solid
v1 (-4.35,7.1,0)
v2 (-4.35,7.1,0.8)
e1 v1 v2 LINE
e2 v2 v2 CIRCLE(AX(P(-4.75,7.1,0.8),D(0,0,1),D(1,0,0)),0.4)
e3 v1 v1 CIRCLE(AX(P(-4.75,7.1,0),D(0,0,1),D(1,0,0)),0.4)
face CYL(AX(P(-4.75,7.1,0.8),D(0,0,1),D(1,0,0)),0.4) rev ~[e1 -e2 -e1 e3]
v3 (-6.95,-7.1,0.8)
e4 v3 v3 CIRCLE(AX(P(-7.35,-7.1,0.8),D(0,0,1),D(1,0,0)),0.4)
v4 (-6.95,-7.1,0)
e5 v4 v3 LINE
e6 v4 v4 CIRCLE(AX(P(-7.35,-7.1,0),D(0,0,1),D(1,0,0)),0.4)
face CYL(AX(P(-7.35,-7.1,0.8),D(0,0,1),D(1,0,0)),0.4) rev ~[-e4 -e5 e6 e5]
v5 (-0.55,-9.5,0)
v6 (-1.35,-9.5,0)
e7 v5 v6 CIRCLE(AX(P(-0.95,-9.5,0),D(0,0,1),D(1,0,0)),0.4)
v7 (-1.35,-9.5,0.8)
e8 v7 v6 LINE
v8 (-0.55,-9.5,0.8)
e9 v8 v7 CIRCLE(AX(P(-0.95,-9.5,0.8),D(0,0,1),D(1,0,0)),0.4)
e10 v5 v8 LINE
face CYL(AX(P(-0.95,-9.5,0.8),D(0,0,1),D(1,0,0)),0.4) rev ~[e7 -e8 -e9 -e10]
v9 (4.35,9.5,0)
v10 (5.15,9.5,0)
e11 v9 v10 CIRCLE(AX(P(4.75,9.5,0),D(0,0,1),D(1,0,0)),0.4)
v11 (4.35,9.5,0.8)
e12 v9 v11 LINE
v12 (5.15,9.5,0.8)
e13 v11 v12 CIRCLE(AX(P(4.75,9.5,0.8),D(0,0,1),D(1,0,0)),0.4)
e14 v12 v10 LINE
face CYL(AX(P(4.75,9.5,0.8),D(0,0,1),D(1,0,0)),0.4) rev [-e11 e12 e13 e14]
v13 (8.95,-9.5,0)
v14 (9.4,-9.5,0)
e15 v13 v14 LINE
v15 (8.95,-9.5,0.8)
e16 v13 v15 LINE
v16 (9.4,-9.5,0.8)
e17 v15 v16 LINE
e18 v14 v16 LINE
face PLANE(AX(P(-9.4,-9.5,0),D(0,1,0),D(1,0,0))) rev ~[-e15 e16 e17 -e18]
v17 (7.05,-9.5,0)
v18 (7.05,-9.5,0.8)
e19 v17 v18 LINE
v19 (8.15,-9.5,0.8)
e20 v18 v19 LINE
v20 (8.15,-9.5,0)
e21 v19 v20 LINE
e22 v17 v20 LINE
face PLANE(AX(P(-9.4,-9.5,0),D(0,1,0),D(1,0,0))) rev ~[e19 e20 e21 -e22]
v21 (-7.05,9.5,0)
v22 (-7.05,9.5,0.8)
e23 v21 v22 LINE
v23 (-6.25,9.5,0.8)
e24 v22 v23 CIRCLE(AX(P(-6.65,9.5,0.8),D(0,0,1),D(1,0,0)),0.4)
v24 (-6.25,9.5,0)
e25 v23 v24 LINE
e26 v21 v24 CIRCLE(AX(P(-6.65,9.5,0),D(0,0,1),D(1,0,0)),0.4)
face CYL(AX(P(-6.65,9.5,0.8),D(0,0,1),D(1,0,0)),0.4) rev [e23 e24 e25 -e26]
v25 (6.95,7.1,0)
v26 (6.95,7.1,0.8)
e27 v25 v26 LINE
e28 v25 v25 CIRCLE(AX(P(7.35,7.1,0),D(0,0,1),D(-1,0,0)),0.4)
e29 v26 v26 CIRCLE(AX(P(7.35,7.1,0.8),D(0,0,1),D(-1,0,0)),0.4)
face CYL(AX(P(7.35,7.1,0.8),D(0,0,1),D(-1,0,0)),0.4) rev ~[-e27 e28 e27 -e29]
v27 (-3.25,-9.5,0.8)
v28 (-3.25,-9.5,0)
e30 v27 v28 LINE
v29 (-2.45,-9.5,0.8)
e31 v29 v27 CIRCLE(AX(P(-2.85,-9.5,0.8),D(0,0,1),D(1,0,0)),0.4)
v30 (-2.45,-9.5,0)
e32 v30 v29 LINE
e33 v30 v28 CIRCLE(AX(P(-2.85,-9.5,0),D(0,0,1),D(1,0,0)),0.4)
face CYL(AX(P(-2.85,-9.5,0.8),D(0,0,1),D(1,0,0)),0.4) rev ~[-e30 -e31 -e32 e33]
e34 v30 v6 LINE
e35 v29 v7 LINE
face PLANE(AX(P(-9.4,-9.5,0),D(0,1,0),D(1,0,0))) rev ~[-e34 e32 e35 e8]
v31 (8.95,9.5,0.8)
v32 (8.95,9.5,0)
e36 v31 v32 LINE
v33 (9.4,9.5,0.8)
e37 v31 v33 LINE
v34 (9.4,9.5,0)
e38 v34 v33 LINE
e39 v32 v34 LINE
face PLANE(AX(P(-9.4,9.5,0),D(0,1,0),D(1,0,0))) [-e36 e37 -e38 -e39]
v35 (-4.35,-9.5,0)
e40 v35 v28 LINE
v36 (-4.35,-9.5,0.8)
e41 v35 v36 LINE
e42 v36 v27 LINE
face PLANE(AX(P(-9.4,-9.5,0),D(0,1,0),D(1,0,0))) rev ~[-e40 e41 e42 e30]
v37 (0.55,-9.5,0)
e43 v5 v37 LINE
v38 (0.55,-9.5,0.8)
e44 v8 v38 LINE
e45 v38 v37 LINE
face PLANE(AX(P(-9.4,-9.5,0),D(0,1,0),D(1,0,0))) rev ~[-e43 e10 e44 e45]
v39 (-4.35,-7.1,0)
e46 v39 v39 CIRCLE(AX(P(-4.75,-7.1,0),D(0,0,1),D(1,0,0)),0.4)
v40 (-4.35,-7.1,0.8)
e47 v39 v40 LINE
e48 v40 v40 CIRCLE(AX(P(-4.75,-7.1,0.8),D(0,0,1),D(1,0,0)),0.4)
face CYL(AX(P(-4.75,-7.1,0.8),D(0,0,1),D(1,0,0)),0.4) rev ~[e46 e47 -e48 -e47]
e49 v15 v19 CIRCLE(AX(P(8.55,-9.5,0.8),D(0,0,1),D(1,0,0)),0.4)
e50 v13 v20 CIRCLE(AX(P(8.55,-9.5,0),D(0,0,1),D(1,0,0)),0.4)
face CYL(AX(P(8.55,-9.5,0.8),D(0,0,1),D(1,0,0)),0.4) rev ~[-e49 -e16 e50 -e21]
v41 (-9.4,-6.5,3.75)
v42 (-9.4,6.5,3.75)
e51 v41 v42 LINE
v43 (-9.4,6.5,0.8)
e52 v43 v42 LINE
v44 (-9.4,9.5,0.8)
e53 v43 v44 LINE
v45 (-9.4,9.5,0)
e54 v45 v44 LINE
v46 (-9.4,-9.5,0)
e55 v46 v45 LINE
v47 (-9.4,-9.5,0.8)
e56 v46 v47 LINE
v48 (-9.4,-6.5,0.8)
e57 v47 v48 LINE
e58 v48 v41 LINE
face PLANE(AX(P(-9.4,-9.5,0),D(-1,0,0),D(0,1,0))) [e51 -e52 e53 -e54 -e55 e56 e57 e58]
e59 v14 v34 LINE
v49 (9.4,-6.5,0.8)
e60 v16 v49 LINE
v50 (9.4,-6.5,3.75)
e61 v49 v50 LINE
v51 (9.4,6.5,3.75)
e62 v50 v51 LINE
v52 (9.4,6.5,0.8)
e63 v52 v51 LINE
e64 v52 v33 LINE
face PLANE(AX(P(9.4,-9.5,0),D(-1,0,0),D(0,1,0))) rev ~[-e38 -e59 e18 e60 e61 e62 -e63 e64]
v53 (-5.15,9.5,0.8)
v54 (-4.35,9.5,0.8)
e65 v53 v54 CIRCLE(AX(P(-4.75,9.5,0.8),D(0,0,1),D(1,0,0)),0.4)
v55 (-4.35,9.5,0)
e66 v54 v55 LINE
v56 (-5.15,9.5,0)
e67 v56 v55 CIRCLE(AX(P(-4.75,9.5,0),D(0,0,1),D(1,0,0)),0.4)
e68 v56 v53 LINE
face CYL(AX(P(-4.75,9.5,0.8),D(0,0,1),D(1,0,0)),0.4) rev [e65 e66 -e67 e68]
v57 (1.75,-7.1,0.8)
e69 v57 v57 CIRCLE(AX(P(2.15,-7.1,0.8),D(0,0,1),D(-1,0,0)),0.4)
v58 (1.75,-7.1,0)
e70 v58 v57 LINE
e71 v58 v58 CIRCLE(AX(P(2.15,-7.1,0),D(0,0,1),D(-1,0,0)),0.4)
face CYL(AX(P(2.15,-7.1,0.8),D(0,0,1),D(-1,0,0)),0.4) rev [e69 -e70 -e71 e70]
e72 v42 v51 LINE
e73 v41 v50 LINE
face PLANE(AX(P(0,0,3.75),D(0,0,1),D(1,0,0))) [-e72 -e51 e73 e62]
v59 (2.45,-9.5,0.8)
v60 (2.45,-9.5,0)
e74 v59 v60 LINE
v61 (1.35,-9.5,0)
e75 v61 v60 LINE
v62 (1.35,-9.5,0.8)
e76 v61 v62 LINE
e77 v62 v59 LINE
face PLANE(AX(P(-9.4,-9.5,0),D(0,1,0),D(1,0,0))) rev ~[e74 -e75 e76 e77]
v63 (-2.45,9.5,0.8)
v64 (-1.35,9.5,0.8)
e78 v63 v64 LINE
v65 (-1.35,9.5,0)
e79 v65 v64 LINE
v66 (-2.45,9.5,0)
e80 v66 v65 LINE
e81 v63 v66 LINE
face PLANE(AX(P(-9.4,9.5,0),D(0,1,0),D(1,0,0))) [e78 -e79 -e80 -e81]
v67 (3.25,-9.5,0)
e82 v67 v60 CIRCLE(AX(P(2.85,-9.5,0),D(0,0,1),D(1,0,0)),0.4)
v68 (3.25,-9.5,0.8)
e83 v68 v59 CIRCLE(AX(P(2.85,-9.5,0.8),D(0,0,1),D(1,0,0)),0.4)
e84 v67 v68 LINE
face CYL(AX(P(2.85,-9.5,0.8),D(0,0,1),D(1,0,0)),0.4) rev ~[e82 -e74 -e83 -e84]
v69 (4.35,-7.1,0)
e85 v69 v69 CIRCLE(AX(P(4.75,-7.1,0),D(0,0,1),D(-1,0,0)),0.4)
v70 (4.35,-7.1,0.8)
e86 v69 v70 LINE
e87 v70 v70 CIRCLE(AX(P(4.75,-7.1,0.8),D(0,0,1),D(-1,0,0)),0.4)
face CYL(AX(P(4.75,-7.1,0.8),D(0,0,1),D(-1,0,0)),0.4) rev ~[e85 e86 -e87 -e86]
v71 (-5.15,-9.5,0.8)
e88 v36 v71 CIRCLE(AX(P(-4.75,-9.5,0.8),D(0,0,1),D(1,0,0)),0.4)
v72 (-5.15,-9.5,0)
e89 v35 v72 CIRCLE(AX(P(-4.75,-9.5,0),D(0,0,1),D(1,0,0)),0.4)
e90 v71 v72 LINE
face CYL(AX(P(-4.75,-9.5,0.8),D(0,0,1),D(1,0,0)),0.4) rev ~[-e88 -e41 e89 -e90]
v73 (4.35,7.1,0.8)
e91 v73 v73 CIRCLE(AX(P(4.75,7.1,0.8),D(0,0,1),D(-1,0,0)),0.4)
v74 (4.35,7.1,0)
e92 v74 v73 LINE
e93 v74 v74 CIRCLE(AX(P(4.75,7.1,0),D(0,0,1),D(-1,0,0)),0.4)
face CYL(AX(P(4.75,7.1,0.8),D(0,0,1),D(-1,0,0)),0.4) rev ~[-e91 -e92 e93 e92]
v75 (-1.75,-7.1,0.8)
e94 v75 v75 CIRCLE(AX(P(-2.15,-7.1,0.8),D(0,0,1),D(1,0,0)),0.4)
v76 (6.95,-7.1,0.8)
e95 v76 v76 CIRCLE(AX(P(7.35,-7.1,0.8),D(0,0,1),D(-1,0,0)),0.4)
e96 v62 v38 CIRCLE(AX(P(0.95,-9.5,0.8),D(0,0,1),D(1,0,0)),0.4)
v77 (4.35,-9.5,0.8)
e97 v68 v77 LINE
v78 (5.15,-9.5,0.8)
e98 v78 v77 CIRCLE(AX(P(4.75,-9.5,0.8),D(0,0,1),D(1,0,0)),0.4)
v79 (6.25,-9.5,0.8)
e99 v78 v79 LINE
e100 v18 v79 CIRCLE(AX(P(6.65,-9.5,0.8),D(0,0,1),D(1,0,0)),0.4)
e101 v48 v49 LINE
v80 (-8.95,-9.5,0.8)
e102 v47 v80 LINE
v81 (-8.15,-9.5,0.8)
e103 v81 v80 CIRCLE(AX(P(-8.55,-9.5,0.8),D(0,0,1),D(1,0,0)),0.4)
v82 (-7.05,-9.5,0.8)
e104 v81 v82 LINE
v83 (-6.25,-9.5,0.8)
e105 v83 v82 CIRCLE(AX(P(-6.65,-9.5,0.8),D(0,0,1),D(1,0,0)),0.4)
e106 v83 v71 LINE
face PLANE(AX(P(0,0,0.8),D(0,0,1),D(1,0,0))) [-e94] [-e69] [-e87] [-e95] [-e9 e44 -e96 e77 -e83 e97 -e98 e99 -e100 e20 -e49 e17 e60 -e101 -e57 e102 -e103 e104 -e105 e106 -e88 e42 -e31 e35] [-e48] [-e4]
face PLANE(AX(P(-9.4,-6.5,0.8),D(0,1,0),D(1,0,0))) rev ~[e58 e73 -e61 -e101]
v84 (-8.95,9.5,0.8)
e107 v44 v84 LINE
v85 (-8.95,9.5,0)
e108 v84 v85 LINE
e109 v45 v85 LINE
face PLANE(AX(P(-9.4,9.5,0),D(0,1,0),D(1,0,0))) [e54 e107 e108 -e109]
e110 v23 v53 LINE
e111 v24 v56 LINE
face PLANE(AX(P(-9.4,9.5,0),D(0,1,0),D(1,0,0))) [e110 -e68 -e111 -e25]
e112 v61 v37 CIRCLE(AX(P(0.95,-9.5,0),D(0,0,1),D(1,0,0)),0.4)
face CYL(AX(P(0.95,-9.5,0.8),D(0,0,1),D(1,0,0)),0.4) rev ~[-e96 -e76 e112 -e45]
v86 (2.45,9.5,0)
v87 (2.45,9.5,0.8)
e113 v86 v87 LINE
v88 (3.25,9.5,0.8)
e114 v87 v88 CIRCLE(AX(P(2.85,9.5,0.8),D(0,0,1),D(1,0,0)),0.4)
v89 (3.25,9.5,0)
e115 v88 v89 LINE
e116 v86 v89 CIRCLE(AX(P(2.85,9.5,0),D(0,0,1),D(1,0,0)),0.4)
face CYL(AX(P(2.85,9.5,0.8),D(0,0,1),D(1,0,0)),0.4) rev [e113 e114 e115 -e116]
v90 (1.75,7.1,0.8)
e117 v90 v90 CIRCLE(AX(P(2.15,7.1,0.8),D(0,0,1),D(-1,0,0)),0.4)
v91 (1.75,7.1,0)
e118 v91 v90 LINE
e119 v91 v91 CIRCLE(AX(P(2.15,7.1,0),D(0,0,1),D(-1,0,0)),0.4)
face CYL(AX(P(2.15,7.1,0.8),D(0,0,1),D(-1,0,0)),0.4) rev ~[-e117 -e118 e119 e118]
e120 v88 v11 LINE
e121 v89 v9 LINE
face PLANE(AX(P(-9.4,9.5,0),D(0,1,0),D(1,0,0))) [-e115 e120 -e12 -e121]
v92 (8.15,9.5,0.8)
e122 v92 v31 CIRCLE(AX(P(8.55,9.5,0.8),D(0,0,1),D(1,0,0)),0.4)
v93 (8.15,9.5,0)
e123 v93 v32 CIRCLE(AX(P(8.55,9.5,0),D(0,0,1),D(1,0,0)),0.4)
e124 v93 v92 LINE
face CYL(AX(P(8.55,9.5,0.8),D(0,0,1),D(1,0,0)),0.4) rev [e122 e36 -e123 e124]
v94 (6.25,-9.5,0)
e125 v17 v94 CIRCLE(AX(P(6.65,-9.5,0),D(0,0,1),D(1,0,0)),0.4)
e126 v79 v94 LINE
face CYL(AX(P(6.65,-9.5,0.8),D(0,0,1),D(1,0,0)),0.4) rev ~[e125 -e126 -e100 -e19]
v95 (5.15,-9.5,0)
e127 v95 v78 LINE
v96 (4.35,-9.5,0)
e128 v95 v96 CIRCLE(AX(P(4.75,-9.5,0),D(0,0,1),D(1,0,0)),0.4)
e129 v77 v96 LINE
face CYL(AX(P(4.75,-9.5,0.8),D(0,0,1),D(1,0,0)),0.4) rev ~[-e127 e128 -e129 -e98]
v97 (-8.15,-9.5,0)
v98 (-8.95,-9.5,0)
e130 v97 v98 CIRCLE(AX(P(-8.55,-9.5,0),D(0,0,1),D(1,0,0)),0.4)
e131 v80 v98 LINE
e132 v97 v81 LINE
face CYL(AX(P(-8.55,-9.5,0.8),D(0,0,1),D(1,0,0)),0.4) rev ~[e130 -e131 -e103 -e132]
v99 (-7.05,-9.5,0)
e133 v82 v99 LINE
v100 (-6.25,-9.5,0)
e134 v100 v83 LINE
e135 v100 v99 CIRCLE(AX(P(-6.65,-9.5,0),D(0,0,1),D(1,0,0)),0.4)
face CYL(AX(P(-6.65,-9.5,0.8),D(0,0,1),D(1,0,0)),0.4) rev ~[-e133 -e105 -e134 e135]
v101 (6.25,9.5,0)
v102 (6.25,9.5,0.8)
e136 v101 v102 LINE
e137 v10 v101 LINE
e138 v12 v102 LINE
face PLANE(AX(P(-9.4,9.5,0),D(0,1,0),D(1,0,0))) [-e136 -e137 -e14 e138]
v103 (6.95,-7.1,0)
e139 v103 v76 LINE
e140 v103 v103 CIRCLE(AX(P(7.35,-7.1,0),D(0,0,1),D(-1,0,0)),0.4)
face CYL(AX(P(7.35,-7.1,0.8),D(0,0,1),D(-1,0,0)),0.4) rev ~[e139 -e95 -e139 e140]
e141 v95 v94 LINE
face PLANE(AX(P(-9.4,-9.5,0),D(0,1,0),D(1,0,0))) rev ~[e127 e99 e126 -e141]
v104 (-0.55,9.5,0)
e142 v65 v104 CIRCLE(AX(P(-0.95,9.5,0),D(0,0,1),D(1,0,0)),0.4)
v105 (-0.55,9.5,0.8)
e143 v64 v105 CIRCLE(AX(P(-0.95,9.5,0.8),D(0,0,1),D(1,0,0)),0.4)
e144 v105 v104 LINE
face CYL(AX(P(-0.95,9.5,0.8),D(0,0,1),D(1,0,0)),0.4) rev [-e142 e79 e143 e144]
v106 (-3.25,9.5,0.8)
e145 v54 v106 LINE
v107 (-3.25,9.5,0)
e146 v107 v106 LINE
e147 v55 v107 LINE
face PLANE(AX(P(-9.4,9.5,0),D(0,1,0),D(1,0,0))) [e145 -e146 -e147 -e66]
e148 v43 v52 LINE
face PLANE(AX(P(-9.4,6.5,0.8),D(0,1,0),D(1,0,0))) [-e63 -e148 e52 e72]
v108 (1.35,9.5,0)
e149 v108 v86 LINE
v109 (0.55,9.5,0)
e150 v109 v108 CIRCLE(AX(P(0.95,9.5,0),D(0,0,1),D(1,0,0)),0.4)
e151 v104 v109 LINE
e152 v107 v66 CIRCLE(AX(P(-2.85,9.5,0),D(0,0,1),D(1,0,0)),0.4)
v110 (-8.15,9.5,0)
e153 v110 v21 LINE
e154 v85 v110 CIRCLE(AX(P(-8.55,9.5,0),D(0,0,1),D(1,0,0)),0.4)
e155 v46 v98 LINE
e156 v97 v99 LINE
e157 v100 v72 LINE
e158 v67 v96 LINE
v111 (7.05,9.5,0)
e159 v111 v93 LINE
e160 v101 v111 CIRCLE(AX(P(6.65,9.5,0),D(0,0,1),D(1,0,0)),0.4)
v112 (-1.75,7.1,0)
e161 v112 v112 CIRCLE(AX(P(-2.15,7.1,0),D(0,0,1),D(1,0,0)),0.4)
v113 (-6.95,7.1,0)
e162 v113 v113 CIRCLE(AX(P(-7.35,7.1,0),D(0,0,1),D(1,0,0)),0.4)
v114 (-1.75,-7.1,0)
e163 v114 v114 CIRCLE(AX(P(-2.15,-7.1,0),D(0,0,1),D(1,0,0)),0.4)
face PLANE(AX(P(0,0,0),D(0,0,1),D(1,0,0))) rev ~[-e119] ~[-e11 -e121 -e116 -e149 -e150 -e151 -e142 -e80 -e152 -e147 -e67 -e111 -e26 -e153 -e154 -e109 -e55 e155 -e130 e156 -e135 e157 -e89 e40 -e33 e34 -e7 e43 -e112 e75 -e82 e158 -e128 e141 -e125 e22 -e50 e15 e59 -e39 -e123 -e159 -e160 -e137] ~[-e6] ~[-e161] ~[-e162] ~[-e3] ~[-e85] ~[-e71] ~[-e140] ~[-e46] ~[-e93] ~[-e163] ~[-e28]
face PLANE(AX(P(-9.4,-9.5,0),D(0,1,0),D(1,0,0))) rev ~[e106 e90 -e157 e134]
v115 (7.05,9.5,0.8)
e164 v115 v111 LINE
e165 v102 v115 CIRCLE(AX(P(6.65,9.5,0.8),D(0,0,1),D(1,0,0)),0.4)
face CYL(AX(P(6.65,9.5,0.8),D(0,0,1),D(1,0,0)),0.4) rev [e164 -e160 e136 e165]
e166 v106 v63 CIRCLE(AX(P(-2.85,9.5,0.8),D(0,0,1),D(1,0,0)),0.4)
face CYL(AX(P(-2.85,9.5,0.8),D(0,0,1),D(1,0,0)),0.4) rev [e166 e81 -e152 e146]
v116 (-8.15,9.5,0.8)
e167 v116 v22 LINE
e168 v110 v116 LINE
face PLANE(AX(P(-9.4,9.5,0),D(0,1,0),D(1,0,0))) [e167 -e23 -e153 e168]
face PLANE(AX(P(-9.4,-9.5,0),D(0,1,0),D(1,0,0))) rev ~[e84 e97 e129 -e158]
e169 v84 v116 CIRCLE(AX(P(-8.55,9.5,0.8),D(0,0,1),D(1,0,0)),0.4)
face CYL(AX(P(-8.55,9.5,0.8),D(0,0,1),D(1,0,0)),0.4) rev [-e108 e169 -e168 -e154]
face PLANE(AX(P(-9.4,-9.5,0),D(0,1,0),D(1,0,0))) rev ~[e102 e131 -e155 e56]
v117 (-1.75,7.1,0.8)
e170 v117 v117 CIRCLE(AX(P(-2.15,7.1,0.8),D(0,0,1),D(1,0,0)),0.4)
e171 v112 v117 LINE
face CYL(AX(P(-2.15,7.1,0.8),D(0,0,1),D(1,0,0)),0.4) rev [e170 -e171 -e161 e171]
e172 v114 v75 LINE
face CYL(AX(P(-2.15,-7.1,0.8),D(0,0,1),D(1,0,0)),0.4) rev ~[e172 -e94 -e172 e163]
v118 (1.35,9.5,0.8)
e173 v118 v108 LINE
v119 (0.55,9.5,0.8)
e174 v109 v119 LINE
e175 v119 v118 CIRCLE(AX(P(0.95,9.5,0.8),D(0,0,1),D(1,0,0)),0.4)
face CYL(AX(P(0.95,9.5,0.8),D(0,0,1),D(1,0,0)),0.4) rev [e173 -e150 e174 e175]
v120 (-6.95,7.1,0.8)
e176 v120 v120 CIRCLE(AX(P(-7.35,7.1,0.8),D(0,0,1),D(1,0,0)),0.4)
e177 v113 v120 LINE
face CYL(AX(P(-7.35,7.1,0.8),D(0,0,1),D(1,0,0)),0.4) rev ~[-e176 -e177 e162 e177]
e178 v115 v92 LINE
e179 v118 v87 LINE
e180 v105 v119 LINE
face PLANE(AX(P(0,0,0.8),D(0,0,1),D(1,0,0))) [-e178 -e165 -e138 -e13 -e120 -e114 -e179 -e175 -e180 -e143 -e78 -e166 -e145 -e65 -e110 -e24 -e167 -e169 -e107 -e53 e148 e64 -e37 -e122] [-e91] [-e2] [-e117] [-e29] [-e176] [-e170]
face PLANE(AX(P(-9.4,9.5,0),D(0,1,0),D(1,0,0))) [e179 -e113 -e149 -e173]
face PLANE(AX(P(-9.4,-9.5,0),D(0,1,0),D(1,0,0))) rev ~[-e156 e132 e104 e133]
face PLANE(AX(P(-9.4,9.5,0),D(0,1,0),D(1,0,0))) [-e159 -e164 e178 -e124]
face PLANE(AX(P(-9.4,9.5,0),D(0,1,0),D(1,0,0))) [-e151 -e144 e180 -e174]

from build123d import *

# Parameters (mm, degrees)
SKETCH_1_W                    = 18.8
SKETCH_1_H                    = 19
EXTRUDE_1_DEPTH               = 0.8
SKETCH_2_W                    = 18.8
SKETCH_2_H                    = 13
EXTRUDE_2_DEPTH               = 2.95
CUT_EXTRUDE_1_DEPTH           = 14.686215693
PATTERN_LINEAR_1_COUNT        = 10
PATTERN_LINEAR_1_PITCH        = 1.9
PATTERN_LINEAR_1_COPY_1_DEPTH = 14.686215693
PATTERN_LINEAR_1_COPY_2_DEPTH = 14.686215693
PATTERN_LINEAR_1_COPY_3_DEPTH = 14.686215693
PATTERN_LINEAR_1_COPY_4_DEPTH = 14.686215693
PATTERN_LINEAR_1_COPY_5_DEPTH = 14.686215693
PATTERN_LINEAR_1_COPY_6_DEPTH = 14.686215693
PATTERN_LINEAR_1_COPY_7_DEPTH = 14.686215693
PATTERN_LINEAR_1_COPY_8_DEPTH = 14.686215693
PATTERN_LINEAR_1_COPY_9_DEPTH = 14.686215693
SKETCH_4_R                    = 0.4
CUT_EXTRUDE_2_DEPTH           = 14.686215693
PATTERN_LINEAR_2_COUNT        = 3
PATTERN_LINEAR_2_PITCH        = 2.6
MIRROR_2_COPY_1_SKETCH_R      = 0.4
MIRROR_2_COPY_1_DEPTH         = 14.686215693
MIRROR_2_COPY_2_SKETCH_R      = 0.4
MIRROR_2_COPY_2_DEPTH         = 14.686215693
MIRROR_3_COPY_1_SKETCH_R      = 0.4
MIRROR_3_COPY_1_DEPTH         = 14.686215693
MIRROR_3_COPY_2_SKETCH_R      = 0.4
MIRROR_3_COPY_2_DEPTH         = 14.686215693
MIRROR_3_COPY_3_SKETCH_R      = 0.4
MIRROR_3_COPY_3_DEPTH         = 14.686215693
MIRROR_3_COPY_4_SKETCH_R      = 0.4
MIRROR_3_COPY_4_DEPTH         = 14.686215693
MIRROR_3_COPY_5_SKETCH_R      = 0.4
MIRROR_3_COPY_5_DEPTH         = 14.686215693


with BuildPart() as part:
    # Эскиз1 → Бобышка-Вытянуть1 (new body)
    with BuildSketch(Plane.XY):
        Rectangle(SKETCH_1_W, SKETCH_1_H)
    extrude(amount=EXTRUDE_1_DEPTH)

    # Эскиз2 → Бобышка-Вытянуть2 (add)
    with BuildSketch(Plane.XY.offset(0.8)):
        Rectangle(SKETCH_2_W, SKETCH_2_H)
    extrude(amount=EXTRUDE_2_DEPTH)

    # Эскиз3 → Вырез-Вытянуть1 (cut, symmetric)
    with BuildSketch(Plane.XY.offset(0.8)):
        with BuildLine():
            Line((-8.95, -9.5), (-8.15, -9.5))
            ThreePointArc((-8.15, -9.5), (-8.55, -9.1), (-8.95, -9.5))
        make_face()
    cut_extrude_1 = extrude(amount=CUT_EXTRUDE_1_DEPTH, both=True, mode=Mode.SUBTRACT)

    # Зеркальное отражение1: Вырез-Вытянуть1 across plane
    add(cut_extrude_1.mirror(Plane.ZX), mode=Mode.SUBTRACT)

    # Линейный массив1: Вырез-Вытянуть1 ×10
    with Locations(*[(i * PATTERN_LINEAR_1_PITCH, 0, 0) for i in range(1, PATTERN_LINEAR_1_COUNT)]):
        add(cut_extrude_1, mode=Mode.SUBTRACT)

    # Линейный массив1 copy 1 sketch → Линейный массив1 copy 1 (cut, symmetric)
    with BuildSketch(Plane(origin=(1.9, 0, 0.8), x_dir=(1, 0, 0), z_dir=(0, 0, 1))):
        with BuildLine():
            Line((-8.95, 9.5), (-8.15, 9.5))
            ThreePointArc((-8.15, 9.5), (-8.55, 9.1), (-8.95, 9.5))
        make_face()
    extrude(amount=PATTERN_LINEAR_1_COPY_1_DEPTH, both=True, mode=Mode.SUBTRACT)

    # Линейный массив1 copy 2 sketch → Линейный массив1 copy 2 (cut, symmetric)
    with BuildSketch(Plane(origin=(3.8, 0, 0.8), x_dir=(1, 0, 0), z_dir=(0, 0, 1))):
        with BuildLine():
            Line((-8.95, 9.5), (-8.15, 9.5))
            ThreePointArc((-8.15, 9.5), (-8.55, 9.1), (-8.95, 9.5))
        make_face()
    extrude(amount=PATTERN_LINEAR_1_COPY_2_DEPTH, both=True, mode=Mode.SUBTRACT)

    # Линейный массив1 copy 3 sketch → Линейный массив1 copy 3 (cut, symmetric)
    with BuildSketch(Plane(origin=(5.7, 0, 0.8), x_dir=(1, 0, 0), z_dir=(0, 0, 1))):
        with BuildLine():
            Line((-8.95, 9.5), (-8.15, 9.5))
            ThreePointArc((-8.15, 9.5), (-8.55, 9.1), (-8.95, 9.5))
        make_face()
    extrude(amount=PATTERN_LINEAR_1_COPY_3_DEPTH, both=True, mode=Mode.SUBTRACT)

    # Линейный массив1 copy 4 sketch → Линейный массив1 copy 4 (cut, symmetric)
    with BuildSketch(Plane(origin=(7.6, 0, 0.8), x_dir=(1, 0, 0), z_dir=(0, 0, 1))):
        with BuildLine():
            Line((-8.95, 9.5), (-8.15, 9.5))
            ThreePointArc((-8.15, 9.5), (-8.55, 9.1), (-8.95, 9.5))
        make_face()
    extrude(amount=PATTERN_LINEAR_1_COPY_4_DEPTH, both=True, mode=Mode.SUBTRACT)

    # Линейный массив1 copy 5 sketch → Линейный массив1 copy 5 (cut, symmetric)
    with BuildSketch(Plane(origin=(9.5, 0, 0.8), x_dir=(1, 0, 0), z_dir=(0, 0, 1))):
        with BuildLine():
            Line((-8.95, 9.5), (-8.15, 9.5))
            ThreePointArc((-8.15, 9.5), (-8.55, 9.1), (-8.95, 9.5))
        make_face()
    extrude(amount=PATTERN_LINEAR_1_COPY_5_DEPTH, both=True, mode=Mode.SUBTRACT)

    # Линейный массив1 copy 6 sketch → Линейный массив1 copy 6 (cut, symmetric)
    with BuildSketch(Plane(origin=(11.4, 0, 0.8), x_dir=(1, 0, 0), z_dir=(0, 0, 1))):
        with BuildLine():
            Line((-8.95, 9.5), (-8.15, 9.5))
            ThreePointArc((-8.15, 9.5), (-8.55, 9.1), (-8.95, 9.5))
        make_face()
    extrude(amount=PATTERN_LINEAR_1_COPY_6_DEPTH, both=True, mode=Mode.SUBTRACT)

    # Линейный массив1 copy 7 sketch → Линейный массив1 copy 7 (cut, symmetric)
    with BuildSketch(Plane(origin=(13.3, 0, 0.8), x_dir=(1, 0, 0), z_dir=(0, 0, 1))):
        with BuildLine():
            Line((-8.95, 9.5), (-8.15, 9.5))
            ThreePointArc((-8.15, 9.5), (-8.55, 9.1), (-8.95, 9.5))
        make_face()
    extrude(amount=PATTERN_LINEAR_1_COPY_7_DEPTH, both=True, mode=Mode.SUBTRACT)

    # Линейный массив1 copy 8 sketch → Линейный массив1 copy 8 (cut, symmetric)
    with BuildSketch(Plane(origin=(15.2, 0, 0.8), x_dir=(1, 0, 0), z_dir=(0, 0, 1))):
        with BuildLine():
            Line((-8.95, 9.5), (-8.15, 9.5))
            ThreePointArc((-8.15, 9.5), (-8.55, 9.1), (-8.95, 9.5))
        make_face()
    extrude(amount=PATTERN_LINEAR_1_COPY_8_DEPTH, both=True, mode=Mode.SUBTRACT)

    # Линейный массив1 copy 9 sketch → Линейный массив1 copy 9 (cut, symmetric)
    with BuildSketch(Plane(origin=(17.1, 0, 0.8), x_dir=(1, 0, 0), z_dir=(0, 0, 1))):
        with BuildLine():
            Line((-8.95, 9.5), (-8.15, 9.5))
            ThreePointArc((-8.15, 9.5), (-8.55, 9.1), (-8.95, 9.5))
        make_face()
    extrude(amount=PATTERN_LINEAR_1_COPY_9_DEPTH, both=True, mode=Mode.SUBTRACT)

    # Эскиз4 → Вырез-Вытянуть2 (cut, symmetric)
    with BuildSketch(Plane.XY.offset(0.8)):
        with Locations((-2.15, -7.1)):
            Circle(SKETCH_4_R)
    cut_extrude_2 = extrude(amount=CUT_EXTRUDE_2_DEPTH, both=True, mode=Mode.SUBTRACT)

    # Линейный массив2: Вырез-Вытянуть2 ×3
    with Locations(*[(-i * PATTERN_LINEAR_2_PITCH, 0, 0) for i in range(1, PATTERN_LINEAR_2_COUNT)]):
        add(cut_extrude_2, mode=Mode.SUBTRACT)

    # Зеркальное отражение2: Вырез-Вытянуть2 across plane
    add(cut_extrude_2.mirror(Plane.ZX), mode=Mode.SUBTRACT)

    # Зеркальное отражение2 copy 1 sketch → Зеркальное отражение2 copy 1 (cut, symmetric)
    with BuildSketch(Plane(origin=(-2.6, 0, 0.8), x_dir=(1, 0, 0), z_dir=(0, 0, 1))):
        with Locations((-2.15, 7.1)):
            Circle(MIRROR_2_COPY_1_SKETCH_R)
    extrude(amount=MIRROR_2_COPY_1_DEPTH, both=True, mode=Mode.SUBTRACT)

    # Зеркальное отражение2 copy 2 sketch → Зеркальное отражение2 copy 2 (cut, symmetric)
    with BuildSketch(Plane(origin=(-5.2, 0, 0.8), x_dir=(1, 0, 0), z_dir=(0, 0, 1))):
        with Locations((-2.15, 7.1)):
            Circle(MIRROR_2_COPY_2_SKETCH_R)
    extrude(amount=MIRROR_2_COPY_2_DEPTH, both=True, mode=Mode.SUBTRACT)

    # Зеркальное отражение3: Вырез-Вытянуть2 across plane
    add(cut_extrude_2.mirror(Plane(origin=(0, 0, 0), x_dir=(0, 0, 1), z_dir=(1, 0, 0))), mode=Mode.SUBTRACT)

    # Зеркальное отражение3 copy 1 sketch → Зеркальное отражение3 copy 1 (cut, symmetric)
    with BuildSketch(Plane(origin=(2.6, 0, 0.8), x_dir=(-1, 0, 0), z_dir=(0, 0, 1))):
        with Locations((-2.15, 7.1)):
            Circle(MIRROR_3_COPY_1_SKETCH_R)
    extrude(amount=MIRROR_3_COPY_1_DEPTH, both=True, mode=Mode.SUBTRACT)

    # Зеркальное отражение3 copy 2 sketch → Зеркальное отражение3 copy 2 (cut, symmetric)
    with BuildSketch(Plane(origin=(5.2, 0, 0.8), x_dir=(-1, 0, 0), z_dir=(0, 0, 1))):
        with Locations((-2.15, 7.1)):
            Circle(MIRROR_3_COPY_2_SKETCH_R)
    extrude(amount=MIRROR_3_COPY_2_DEPTH, both=True, mode=Mode.SUBTRACT)

    # Зеркальное отражение3 copy 3 sketch → Зеркальное отражение3 copy 3 (cut, symmetric)
    with BuildSketch(Plane(origin=(0, 0, 0.8), x_dir=(-1, 0, 0), z_dir=(0, 0, 1))):
        with Locations((-2.15, -7.1)):
            Circle(MIRROR_3_COPY_3_SKETCH_R)
    extrude(amount=MIRROR_3_COPY_3_DEPTH, both=True, mode=Mode.SUBTRACT)

    # Зеркальное отражение3 copy 4 sketch → Зеркальное отражение3 copy 4 (cut, symmetric)
    with BuildSketch(Plane(origin=(2.6, 0, 0.8), x_dir=(-1, 0, 0), z_dir=(0, 0, 1))):
        with Locations((-2.15, -7.1)):
            Circle(MIRROR_3_COPY_4_SKETCH_R)
    extrude(amount=MIRROR_3_COPY_4_DEPTH, both=True, mode=Mode.SUBTRACT)

    # Зеркальное отражение3 copy 5 sketch → Зеркальное отражение3 copy 5 (cut, symmetric)
    with BuildSketch(Plane(origin=(5.2, 0, 0.8), x_dir=(-1, 0, 0), z_dir=(0, 0, 1))):
        with Locations((-2.15, -7.1)):
            Circle(MIRROR_3_COPY_5_SKETCH_R)
    extrude(amount=MIRROR_3_COPY_5_DEPTH, both=True, mode=Mode.SUBTRACT)


solid = part.part
